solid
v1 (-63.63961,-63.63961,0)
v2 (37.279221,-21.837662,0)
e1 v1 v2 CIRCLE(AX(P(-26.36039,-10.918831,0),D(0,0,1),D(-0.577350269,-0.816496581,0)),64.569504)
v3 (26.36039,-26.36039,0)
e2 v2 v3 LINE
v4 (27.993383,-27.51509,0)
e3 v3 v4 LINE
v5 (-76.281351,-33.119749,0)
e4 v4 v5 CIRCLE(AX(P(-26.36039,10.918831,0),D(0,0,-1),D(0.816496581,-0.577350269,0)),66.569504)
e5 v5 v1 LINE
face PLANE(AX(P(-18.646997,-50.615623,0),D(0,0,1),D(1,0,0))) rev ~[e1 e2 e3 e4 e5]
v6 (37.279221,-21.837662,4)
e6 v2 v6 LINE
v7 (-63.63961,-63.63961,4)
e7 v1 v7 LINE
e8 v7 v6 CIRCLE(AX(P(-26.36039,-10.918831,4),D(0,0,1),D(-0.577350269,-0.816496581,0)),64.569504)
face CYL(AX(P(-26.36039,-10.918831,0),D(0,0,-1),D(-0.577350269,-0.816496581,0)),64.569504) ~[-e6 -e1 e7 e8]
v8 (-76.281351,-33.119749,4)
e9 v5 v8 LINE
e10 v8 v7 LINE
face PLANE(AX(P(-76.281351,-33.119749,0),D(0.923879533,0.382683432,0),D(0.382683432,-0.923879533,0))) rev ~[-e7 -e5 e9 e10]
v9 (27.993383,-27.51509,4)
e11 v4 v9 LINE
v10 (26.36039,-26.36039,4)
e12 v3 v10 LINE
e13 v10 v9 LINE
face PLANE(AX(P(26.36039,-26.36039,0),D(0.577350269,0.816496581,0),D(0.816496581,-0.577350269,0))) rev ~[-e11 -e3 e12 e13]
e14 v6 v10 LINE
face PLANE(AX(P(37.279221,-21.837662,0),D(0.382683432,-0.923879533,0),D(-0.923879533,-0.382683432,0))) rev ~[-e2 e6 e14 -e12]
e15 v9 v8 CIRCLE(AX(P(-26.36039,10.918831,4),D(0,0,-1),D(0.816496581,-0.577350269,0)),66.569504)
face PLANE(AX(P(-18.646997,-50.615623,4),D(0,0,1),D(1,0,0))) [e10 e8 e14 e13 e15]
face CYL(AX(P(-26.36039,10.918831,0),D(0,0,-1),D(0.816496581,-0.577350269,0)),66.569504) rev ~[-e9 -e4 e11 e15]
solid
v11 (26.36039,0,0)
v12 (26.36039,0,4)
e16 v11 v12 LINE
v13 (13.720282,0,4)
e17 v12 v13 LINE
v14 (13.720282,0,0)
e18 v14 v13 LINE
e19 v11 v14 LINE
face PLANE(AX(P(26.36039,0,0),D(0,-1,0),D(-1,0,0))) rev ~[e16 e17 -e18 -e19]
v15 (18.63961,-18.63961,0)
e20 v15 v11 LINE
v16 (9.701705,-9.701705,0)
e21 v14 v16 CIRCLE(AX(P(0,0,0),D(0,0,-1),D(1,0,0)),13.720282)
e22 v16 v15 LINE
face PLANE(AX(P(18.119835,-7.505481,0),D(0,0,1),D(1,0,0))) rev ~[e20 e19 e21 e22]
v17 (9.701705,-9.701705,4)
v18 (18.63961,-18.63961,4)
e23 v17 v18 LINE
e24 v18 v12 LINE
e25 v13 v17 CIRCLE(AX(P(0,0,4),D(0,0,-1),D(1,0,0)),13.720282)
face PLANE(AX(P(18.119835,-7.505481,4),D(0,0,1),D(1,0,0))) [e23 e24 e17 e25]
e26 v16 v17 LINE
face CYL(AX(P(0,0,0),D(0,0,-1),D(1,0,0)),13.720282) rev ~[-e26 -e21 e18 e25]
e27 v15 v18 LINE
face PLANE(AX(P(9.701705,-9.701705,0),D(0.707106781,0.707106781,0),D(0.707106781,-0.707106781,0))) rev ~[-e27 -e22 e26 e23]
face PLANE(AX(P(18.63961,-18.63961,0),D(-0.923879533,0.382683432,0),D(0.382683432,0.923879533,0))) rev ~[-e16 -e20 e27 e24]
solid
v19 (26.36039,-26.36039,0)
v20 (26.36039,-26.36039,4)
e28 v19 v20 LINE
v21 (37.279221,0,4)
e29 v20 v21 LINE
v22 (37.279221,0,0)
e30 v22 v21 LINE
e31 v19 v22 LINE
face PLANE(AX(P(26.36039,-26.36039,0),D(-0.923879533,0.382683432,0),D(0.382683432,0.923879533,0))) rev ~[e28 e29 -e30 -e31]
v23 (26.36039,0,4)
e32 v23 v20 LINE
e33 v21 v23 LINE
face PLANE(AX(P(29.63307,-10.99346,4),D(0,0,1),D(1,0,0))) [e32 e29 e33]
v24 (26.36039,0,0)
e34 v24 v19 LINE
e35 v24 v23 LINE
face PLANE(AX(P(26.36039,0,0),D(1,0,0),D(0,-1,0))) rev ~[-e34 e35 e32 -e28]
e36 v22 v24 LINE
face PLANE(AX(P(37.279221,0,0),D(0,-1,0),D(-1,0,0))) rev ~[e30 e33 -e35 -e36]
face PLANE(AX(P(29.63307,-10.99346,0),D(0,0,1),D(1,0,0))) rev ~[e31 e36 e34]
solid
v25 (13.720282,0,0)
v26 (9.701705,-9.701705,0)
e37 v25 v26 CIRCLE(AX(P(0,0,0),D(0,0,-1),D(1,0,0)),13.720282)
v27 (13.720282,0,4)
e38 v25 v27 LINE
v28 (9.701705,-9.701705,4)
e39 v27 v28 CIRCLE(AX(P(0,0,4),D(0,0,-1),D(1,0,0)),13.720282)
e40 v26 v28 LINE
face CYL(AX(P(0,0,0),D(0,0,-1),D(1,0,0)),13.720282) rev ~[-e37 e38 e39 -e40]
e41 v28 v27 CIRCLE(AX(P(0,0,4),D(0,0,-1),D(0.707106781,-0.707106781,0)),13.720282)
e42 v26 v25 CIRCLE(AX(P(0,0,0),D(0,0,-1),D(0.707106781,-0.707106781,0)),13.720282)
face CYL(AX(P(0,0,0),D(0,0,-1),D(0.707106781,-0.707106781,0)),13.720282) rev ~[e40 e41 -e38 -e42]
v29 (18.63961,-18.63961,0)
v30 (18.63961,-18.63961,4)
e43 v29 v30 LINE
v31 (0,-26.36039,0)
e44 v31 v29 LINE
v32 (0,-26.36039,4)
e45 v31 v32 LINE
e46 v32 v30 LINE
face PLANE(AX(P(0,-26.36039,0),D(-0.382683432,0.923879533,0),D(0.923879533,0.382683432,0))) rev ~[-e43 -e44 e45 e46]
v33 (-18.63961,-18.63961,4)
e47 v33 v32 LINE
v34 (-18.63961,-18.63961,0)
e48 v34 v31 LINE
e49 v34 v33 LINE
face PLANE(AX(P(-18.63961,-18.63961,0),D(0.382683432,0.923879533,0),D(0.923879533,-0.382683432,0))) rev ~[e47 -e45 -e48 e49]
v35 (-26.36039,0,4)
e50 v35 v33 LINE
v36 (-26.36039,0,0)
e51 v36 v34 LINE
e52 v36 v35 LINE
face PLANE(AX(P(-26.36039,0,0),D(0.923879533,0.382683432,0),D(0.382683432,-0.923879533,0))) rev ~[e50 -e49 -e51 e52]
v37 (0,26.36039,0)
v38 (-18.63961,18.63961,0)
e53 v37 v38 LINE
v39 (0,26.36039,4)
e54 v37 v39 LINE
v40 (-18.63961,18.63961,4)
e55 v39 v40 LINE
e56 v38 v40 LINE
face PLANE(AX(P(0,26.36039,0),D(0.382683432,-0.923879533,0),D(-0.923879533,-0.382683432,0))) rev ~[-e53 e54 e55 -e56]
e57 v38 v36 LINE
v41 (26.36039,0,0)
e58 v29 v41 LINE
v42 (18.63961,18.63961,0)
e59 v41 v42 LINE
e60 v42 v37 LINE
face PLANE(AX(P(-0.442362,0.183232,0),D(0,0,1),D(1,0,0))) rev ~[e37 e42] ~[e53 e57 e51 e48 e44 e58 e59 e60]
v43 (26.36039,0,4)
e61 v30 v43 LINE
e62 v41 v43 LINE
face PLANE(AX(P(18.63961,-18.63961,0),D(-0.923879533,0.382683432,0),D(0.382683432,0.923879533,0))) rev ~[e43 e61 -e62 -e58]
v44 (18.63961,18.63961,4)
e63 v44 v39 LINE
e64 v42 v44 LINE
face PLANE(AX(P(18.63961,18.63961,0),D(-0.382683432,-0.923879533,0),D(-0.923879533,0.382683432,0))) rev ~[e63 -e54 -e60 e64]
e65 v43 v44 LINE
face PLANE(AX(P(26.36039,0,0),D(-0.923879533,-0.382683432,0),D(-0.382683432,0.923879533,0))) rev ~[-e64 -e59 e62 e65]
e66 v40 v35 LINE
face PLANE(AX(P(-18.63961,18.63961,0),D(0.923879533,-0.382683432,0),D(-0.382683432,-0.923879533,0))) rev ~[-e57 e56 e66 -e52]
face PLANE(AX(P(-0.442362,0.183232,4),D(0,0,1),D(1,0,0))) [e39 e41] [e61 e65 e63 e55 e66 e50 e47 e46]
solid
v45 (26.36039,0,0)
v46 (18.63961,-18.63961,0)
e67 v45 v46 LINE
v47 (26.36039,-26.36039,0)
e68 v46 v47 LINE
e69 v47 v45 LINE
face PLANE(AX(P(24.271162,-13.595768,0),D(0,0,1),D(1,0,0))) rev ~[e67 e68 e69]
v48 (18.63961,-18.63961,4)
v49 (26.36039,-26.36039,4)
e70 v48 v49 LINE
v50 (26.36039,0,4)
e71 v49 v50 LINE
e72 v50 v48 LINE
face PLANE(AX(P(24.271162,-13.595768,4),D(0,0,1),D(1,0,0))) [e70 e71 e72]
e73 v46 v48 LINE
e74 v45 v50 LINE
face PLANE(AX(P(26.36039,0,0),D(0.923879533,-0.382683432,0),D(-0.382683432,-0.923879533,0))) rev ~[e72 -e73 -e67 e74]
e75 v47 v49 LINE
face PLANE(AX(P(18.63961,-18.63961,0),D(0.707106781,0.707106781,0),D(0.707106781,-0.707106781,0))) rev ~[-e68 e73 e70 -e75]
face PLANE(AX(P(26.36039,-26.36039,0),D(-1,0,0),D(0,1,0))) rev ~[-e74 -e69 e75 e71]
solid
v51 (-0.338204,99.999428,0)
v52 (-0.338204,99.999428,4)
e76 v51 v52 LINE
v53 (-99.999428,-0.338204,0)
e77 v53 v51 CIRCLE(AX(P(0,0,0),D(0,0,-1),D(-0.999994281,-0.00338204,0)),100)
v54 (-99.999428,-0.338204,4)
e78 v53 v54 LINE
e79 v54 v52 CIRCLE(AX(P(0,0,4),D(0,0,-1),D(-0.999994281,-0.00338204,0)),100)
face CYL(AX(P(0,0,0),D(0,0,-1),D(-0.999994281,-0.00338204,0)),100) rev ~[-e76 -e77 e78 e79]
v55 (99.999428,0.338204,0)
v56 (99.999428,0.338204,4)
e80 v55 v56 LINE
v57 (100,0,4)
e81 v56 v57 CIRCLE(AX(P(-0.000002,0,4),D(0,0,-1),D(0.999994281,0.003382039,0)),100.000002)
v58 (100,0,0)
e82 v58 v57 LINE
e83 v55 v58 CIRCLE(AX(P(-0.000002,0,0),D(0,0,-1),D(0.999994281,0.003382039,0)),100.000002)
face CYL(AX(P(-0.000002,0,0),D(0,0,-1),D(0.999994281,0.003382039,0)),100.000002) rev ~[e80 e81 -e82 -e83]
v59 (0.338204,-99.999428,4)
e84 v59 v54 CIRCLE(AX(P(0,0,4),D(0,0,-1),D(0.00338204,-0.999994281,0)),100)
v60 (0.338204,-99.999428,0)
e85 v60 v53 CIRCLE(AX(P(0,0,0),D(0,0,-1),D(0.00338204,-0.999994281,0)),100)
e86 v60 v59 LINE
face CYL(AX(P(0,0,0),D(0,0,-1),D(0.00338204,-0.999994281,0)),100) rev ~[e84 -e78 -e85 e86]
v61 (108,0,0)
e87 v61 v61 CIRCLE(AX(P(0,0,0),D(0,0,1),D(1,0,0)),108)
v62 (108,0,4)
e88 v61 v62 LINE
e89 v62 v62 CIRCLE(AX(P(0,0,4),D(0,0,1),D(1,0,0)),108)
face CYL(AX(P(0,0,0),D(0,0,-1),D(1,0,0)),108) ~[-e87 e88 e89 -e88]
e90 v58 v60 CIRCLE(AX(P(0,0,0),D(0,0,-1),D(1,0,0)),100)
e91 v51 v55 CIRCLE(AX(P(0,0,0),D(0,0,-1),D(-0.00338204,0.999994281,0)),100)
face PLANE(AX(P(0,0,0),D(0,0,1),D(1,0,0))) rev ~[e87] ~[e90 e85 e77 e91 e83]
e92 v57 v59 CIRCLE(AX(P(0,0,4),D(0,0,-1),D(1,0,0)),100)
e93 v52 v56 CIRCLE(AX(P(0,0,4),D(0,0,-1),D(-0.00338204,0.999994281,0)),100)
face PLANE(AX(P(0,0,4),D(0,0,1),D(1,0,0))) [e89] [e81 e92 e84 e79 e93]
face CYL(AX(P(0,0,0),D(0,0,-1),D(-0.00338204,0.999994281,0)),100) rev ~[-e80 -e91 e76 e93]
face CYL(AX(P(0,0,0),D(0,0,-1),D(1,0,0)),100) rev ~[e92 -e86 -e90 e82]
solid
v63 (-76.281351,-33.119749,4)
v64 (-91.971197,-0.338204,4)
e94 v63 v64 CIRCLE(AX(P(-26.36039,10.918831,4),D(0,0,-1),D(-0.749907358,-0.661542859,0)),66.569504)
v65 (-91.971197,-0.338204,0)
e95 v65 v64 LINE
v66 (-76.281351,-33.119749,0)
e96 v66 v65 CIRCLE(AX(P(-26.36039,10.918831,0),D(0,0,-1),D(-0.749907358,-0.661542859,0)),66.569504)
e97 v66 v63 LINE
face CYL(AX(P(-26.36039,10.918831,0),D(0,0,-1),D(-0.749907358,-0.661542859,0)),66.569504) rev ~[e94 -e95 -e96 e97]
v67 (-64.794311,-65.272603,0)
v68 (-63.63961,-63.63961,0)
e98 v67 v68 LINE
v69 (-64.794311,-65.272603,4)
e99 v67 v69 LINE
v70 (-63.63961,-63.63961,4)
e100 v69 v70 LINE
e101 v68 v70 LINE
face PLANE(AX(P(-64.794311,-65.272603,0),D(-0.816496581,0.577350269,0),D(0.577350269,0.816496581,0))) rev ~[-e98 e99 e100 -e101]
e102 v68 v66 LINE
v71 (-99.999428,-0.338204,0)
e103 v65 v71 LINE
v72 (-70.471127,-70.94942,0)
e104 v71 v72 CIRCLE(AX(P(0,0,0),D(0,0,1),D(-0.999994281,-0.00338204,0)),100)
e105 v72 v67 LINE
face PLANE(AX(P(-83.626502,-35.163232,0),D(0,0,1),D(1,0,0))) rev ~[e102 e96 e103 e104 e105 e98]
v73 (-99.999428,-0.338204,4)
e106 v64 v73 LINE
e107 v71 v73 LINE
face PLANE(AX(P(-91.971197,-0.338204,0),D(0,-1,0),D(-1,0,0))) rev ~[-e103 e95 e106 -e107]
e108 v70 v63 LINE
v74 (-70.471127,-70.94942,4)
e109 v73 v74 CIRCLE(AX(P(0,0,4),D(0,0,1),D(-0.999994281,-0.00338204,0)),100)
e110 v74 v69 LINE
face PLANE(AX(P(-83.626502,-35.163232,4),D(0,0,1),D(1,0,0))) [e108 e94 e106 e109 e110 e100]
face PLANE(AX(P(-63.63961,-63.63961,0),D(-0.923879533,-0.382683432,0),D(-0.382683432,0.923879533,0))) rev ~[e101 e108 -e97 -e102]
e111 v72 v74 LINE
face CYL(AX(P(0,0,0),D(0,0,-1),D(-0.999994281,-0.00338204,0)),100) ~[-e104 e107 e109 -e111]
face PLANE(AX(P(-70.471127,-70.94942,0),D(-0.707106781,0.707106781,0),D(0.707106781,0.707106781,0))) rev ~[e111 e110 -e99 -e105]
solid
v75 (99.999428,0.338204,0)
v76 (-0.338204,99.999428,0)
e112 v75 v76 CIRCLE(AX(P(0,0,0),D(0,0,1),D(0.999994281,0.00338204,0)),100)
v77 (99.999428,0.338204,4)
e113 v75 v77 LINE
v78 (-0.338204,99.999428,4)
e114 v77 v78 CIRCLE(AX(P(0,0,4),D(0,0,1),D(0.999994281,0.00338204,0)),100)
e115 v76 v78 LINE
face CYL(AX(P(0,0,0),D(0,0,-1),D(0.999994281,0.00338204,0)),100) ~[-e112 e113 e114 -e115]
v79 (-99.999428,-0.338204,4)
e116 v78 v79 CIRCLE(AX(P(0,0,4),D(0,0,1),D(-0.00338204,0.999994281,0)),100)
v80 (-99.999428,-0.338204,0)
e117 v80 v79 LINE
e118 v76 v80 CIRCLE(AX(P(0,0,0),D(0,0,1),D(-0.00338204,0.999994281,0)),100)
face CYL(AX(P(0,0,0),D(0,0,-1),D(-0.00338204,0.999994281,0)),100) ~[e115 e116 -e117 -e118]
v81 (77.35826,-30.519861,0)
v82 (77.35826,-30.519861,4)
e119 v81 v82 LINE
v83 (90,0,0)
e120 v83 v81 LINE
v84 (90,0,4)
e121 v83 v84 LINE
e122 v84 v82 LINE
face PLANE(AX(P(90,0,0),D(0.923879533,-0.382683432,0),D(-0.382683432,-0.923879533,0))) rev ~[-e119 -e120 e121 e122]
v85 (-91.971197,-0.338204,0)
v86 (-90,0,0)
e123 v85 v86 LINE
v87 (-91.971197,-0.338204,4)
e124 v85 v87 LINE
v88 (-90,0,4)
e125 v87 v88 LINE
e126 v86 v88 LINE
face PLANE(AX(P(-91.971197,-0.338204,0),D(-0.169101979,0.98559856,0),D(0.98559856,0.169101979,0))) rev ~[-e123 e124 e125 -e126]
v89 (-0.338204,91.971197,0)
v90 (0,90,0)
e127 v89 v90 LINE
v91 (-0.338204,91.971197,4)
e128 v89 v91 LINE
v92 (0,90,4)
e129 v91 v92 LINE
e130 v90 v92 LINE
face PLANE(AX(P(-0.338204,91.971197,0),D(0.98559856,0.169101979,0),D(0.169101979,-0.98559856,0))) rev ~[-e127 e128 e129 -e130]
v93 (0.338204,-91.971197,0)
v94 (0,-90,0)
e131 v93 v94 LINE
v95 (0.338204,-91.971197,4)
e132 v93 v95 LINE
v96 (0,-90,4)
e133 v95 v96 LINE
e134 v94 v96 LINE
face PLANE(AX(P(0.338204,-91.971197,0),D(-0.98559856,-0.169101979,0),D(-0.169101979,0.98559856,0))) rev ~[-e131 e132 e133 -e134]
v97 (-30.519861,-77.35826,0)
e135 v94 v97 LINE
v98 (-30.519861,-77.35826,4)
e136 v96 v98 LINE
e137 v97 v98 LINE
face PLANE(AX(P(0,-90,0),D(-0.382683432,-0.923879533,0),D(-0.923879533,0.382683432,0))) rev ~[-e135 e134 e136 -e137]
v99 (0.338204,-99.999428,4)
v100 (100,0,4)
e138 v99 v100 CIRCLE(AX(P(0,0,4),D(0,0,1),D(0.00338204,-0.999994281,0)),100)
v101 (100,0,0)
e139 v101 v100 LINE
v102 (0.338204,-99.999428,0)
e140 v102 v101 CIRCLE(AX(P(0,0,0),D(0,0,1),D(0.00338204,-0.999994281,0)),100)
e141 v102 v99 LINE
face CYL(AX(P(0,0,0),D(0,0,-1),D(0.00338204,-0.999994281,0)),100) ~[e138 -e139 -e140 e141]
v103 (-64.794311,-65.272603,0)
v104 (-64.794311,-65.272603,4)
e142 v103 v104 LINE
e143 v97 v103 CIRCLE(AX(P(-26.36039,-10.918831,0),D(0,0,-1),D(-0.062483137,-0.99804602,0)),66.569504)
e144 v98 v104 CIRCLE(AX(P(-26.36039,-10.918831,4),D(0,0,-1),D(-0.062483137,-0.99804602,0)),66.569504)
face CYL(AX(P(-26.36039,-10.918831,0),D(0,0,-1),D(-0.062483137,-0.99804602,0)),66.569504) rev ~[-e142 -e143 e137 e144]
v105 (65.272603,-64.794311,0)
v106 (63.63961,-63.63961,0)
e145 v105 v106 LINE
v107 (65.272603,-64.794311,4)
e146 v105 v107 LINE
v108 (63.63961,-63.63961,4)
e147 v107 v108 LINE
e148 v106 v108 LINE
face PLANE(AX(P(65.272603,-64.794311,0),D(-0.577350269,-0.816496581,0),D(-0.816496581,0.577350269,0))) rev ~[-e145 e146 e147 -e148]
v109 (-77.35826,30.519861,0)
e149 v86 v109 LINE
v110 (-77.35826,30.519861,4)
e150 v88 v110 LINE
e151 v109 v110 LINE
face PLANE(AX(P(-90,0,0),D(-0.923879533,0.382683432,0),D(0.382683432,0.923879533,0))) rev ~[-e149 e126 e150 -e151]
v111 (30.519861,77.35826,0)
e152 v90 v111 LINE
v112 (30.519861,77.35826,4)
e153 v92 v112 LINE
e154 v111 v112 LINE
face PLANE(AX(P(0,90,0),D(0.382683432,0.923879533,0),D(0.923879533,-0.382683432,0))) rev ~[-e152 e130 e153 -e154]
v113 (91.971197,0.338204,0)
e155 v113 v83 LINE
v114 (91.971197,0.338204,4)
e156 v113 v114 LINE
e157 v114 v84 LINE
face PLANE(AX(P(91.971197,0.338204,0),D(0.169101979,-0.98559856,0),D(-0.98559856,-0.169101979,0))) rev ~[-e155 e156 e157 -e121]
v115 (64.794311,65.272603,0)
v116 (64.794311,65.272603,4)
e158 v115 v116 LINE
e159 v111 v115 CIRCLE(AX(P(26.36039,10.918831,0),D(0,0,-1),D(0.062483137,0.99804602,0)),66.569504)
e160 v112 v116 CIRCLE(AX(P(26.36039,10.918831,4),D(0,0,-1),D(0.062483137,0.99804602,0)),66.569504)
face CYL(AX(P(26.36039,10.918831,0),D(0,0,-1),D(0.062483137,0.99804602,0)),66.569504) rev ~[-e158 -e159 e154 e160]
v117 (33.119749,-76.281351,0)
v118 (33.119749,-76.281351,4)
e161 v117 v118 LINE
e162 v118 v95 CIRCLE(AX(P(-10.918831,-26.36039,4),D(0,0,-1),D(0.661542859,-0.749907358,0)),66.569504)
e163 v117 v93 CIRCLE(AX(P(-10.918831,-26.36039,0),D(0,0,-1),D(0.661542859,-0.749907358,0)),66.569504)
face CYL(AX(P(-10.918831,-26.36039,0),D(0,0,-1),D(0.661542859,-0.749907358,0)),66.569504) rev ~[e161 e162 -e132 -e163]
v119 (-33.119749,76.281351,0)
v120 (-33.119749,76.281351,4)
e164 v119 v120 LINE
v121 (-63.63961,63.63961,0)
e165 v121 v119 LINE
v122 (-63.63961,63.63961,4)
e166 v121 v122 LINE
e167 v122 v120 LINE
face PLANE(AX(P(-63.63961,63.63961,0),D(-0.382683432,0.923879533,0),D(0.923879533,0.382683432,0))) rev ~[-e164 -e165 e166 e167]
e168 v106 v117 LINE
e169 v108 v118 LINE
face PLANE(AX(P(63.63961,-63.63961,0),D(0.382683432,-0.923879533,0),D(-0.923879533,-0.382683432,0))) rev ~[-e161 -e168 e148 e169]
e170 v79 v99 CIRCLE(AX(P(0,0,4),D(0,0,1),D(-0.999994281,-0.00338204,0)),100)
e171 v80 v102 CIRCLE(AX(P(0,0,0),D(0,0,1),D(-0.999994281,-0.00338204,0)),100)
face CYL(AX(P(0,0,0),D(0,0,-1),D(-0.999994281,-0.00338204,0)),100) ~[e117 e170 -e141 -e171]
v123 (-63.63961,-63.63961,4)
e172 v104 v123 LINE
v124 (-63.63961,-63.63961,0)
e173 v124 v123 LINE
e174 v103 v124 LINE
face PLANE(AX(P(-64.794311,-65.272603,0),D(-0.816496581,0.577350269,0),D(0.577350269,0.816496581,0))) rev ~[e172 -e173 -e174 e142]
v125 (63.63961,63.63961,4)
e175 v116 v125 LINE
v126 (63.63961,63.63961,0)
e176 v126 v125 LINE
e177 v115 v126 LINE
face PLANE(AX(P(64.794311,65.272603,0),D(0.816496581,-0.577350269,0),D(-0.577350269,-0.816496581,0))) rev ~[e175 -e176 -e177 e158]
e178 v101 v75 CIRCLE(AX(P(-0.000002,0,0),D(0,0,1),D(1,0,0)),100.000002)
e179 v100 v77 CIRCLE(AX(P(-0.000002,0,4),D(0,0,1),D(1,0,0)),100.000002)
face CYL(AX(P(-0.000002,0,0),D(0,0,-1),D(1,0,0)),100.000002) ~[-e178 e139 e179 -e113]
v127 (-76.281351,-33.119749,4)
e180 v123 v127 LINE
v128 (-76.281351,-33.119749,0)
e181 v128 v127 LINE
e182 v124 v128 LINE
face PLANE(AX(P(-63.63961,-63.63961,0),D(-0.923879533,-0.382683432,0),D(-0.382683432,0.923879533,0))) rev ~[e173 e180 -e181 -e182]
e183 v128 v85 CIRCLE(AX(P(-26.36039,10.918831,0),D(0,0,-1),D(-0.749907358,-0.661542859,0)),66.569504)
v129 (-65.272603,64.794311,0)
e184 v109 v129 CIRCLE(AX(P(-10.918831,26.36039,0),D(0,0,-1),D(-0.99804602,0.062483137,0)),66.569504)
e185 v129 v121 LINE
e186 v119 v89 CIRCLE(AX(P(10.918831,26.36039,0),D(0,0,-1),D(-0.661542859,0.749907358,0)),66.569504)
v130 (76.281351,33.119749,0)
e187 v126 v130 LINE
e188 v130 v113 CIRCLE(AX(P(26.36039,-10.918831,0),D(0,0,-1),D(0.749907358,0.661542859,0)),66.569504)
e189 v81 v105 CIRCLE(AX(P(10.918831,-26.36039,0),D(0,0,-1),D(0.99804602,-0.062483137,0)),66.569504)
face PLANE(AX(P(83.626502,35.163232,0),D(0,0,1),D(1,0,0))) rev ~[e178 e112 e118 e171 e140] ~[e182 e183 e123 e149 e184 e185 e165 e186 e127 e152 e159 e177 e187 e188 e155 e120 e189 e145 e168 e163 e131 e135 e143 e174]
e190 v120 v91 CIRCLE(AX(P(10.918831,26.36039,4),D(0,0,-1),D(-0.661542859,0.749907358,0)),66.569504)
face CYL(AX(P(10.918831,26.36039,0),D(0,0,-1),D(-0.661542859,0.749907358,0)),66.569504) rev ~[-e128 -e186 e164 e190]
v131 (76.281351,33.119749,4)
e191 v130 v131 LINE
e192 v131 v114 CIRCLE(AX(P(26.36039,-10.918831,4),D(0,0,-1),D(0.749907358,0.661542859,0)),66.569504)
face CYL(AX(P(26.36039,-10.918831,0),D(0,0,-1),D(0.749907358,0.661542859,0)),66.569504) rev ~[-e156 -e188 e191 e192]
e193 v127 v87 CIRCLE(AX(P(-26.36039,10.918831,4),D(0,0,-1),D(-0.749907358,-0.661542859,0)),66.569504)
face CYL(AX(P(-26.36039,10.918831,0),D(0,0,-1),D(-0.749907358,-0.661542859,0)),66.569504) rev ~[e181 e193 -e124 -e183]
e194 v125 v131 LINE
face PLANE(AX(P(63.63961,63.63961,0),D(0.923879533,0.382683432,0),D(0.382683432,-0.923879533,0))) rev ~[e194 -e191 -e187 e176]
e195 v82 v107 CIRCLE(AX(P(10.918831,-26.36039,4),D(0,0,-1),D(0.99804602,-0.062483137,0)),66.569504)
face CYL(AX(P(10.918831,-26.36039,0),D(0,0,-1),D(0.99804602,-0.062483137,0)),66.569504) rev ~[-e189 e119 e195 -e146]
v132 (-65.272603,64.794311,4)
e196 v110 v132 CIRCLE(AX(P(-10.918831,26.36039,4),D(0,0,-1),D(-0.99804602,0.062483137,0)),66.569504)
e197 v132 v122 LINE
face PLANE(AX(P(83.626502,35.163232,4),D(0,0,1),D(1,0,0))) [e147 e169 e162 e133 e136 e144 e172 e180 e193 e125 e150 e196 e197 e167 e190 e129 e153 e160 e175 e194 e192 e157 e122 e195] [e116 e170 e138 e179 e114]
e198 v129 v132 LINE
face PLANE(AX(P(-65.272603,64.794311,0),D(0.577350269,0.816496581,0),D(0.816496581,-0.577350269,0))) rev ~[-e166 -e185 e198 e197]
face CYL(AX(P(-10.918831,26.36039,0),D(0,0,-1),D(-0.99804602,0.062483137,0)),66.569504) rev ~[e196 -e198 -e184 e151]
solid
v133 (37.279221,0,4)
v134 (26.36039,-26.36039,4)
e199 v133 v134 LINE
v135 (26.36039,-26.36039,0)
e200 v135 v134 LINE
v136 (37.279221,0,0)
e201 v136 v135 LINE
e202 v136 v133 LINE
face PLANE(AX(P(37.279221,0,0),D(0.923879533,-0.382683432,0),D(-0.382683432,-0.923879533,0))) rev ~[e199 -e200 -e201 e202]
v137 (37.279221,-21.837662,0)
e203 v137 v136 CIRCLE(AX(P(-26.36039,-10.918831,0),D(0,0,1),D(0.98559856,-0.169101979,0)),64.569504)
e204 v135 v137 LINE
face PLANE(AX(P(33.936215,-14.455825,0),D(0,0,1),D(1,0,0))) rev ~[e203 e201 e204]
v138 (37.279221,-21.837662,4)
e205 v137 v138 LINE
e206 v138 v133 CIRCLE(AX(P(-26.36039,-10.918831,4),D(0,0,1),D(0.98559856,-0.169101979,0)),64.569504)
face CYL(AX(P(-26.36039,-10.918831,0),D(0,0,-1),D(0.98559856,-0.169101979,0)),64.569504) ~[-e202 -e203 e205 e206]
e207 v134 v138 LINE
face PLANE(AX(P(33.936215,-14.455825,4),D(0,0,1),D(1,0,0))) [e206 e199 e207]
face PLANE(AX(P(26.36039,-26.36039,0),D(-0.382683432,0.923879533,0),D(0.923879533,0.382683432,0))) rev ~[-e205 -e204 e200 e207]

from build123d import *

# Parameters (mm, degrees)
F2_DEPTH  = 4
F3_DEPTH  = 4
F4_DEPTH  = 4
F5_DEPTH  = 4
F6_DEPTH  = 4
F7_DEPTH  = 4
F8_DEPTH  = 4
F9_DEPTH  = 4
F1_R      = 108
F10_DEPTH = 4


with BuildPart() as f2:
    # F1 (on Top) → F2 (new body)
    with BuildSketch(Plane.XY):
        with BuildLine():
            Line((91.9711971193, 0.3382039575), (99.9994280888, 0.3382039575))
            ThreePointArc((99.9994280888, 0.3382039575), (92.2579998228, 38.5805840897), (70.4711274046, 70.9494200281))
            Line((70.4711274046, 70.9494200281), (64.7943108452, 65.2726034686))
            Line((64.7943108452, 65.2726034686), (63.6396103068, 63.6396103068))
            Line((63.6396103068, 63.6396103068), (76.2813507115, 33.1197491698))
            ThreePointArc((76.2813507115, 33.1197491698), (86.4066619055, 17.8204119149), (91.9711971193, 0.3382039575))
        make_face()
        with BuildLine():
            Line((64.7943108452, 65.2726034686), (70.4711274046, 70.9494200281))
            ThreePointArc((70.4711274046, 70.9494200281), (37.9556646615, 92.5168499253), (-0.3382039575, 99.9994280888))
            Line((-0.3382039575, 99.9994280888), (-0.3382039575, 91.9711971193))
            Line((-0.3382039575, 91.9711971193), (0, 90))
            Line((0, 90), (30.519861137, 77.3582595953))
            ThreePointArc((30.519861137, 77.3582595953), (48.4978024645, 73.6996706817), (64.7943108452, 65.2726034686))
        make_face()
        with BuildLine():
            Line((-0.3382039575, 91.9711971193), (-0.3382039575, 99.9994280888))
            ThreePointArc((-0.3382039575, 99.9994280888), (-38.5805840897, 92.2579998228), (-70.9494200281, 70.4711274046))
            Line((-70.9494200281, 70.4711274046), (-65.2726034686, 64.7943108452))
            Line((-65.2726034686, 64.7943108452), (-63.6396103068, 63.6396103068))
            Line((-63.6396103068, 63.6396103068), (-33.1197491698, 76.2813507115))
            ThreePointArc((-33.1197491698, 76.2813507115), (-17.8204119149, 86.4066619055), (-0.3382039575, 91.9711971193))
        make_face()
        with BuildLine():
            Line((-65.2726034686, 64.7943108452), (-70.9494200281, 70.4711274046))
            ThreePointArc((-70.9494200281, 70.4711274046), (-92.5168499253, 37.9556646615), (-99.9994280888, -0.3382039575))
            Line((-99.9994280888, -0.3382039575), (-91.9711971193, -0.3382039575))
            Line((-91.9711971193, -0.3382039575), (-90, 0))
            Line((-90, 0), (-77.3582595953, 30.519861137))
            ThreePointArc((-77.3582595953, 30.519861137), (-73.6996706817, 48.4978024645), (-65.2726034686, 64.7943108452))
        make_face()
        with BuildLine():
            ThreePointArc((-99.9994280888, -0.3382039575), (-92.2579998228, -38.5805840897), (-70.4711274046, -70.9494200281))
            Line((-70.4711274046, -70.9494200281), (-64.7943108452, -65.2726034686))
            Line((-64.7943108452, -65.2726034686), (-63.6396103068, -63.6396103068))
            Line((-63.6396103068, -63.6396103068), (-76.2813507115, -33.1197491698))
            ThreePointArc((-76.2813507115, -33.1197491698), (-86.4066619055, -17.8204119149), (-91.9711971193, -0.3382039575))
            Line((-91.9711971193, -0.3382039575), (-99.9994280888, -0.3382039575))
        make_face()
        with BuildLine():
            ThreePointArc((-70.4711274046, -70.9494200281), (-37.9556646615, -92.5168499253), (0.3382039575, -99.9994280888))
            Line((0.3382039575, -99.9994280888), (0.3382039575, -91.9711971193))
            Line((0.3382039575, -91.9711971193), (0, -90))
            Line((0, -90), (-30.519861137, -77.3582595953))
            ThreePointArc((-30.519861137, -77.3582595953), (-48.4978024645, -73.6996706817), (-64.7943108452, -65.2726034686))
            Line((-64.7943108452, -65.2726034686), (-70.4711274046, -70.9494200281))
        make_face()
        with BuildLine():
            ThreePointArc((0.3382039575, -99.9994280888), (38.5805840897, -92.2579998228), (70.9494200281, -70.4711274046))
            Line((70.9494200281, -70.4711274046), (65.2726034686, -64.7943108452))
            Line((65.2726034686, -64.7943108452), (63.6396103068, -63.6396103068))
            Line((63.6396103068, -63.6396103068), (33.1197491698, -76.2813507115))
            ThreePointArc((33.1197491698, -76.2813507115), (17.8204119149, -86.4066619055), (0.3382039575, -91.9711971193))
            Line((0.3382039575, -91.9711971193), (0.3382039575, -99.9994280888))
        make_face()
        with BuildLine():
            ThreePointArc((70.9494200281, -70.4711274046), (92.4525337749, -38.1120584408), (100, 0))
            ThreePointArc((100, 0), (99.9998570221, 0.1691022205), (99.9994280888, 0.3382039575))
            Line((99.9994280888, 0.3382039575), (91.9711971193, 0.3382039575))
            Line((91.9711971193, 0.3382039575), (90, 0))
            Line((90, 0), (77.3582595953, -30.519861137))
            ThreePointArc((77.3582595953, -30.519861137), (73.6996706817, -48.4978024645), (65.2726034686, -64.7943108452))
            Line((65.2726034686, -64.7943108452), (70.9494200281, -70.4711274046))
        make_face()
    extrude(amount=F2_DEPTH)


with BuildPart() as f3:
    # F1 (on Top) → F3 (new body)
    with BuildSketch(Plane.XY):
        with BuildLine():
            Line((-76.2813507115, -33.1197491698), (-63.6396103068, -63.6396103068))
            ThreePointArc((-63.6396103068, -63.6396103068), (-1.6507102116, -70.5732742468), (37.2792206136, -21.8376618407))
            Line((37.2792206136, -21.8376618407), (26.3603896932, -26.3603896932))
            Line((26.3603896932, -26.3603896932), (27.9933828551, -27.5150902316))
            ThreePointArc((27.9933828551, -27.5150902316), (-22.7875050087, -55.554723072), (-76.2813507115, -33.1197491698))
        make_face()
    extrude(amount=F3_DEPTH)


with BuildPart() as f4:
    # F1 (on Top) → F4 (new body)
    with BuildSketch(Plane.XY):
        with BuildLine():
            Line((26.3603896932, -26.3603896932), (37.2792206136, -21.8376618407))
            ThreePointArc((37.2792206136, -21.8376618407), (38.2091144761, -10.9188309204), (37.2792206136, 0))
            Line((37.2792206136, 0), (26.3603896932, -26.3603896932))
        make_face()
    extrude(amount=F4_DEPTH)


with BuildPart() as f5:
    # F1 (on Top) → F5 (new body)
    with BuildSketch(Plane.XY):
        Polygon((26.3603896932, -26.3603896932), (37.2792206136, 0), (26.3603896932, 0), align=None)
    extrude(amount=F5_DEPTH)


with BuildPart() as f6:
    # F1 (on Top) → F6 (new body)
    with BuildSketch(Plane.XY):
        Polygon((18.6396103068, -18.6396103068), (26.3603896932, -26.3603896932), (26.3603896932, 0), align=None)
    extrude(amount=F6_DEPTH)


with BuildPart() as f7:
    # F1 (on Top) → F7 (new body)
    with BuildSketch(Plane.XY):
        with BuildLine():
            Line((0, 26.3603896932), (-18.6396103068, 18.6396103068))
            Line((-18.6396103068, 18.6396103068), (-26.3603896932, 0))
            Line((-26.3603896932, 0), (-18.6396103068, -18.6396103068))
            Line((-18.6396103068, -18.6396103068), (0, -26.3603896932))
            Line((0, -26.3603896932), (18.6396103068, -18.6396103068))
            Line((18.6396103068, -18.6396103068), (9.7017045802, -9.7017045802))
            ThreePointArc((9.7017045802, -9.7017045802), (-12.6758879006, 5.2505246836), (13.7202821954, 0))
            Line((13.7202821954, 0), (26.3603896932, 0))
            Line((26.3603896932, 0), (18.6396103068, 18.6396103068))
            Line((18.6396103068, 18.6396103068), (0, 26.3603896932))
        make_face()
        with BuildLine():
            Line((18.6396103068, -18.6396103068), (26.3603896932, 0))
            Line((26.3603896932, 0), (13.7202821954, 0))
            ThreePointArc((13.7202821954, 0), (12.6758879006, -5.2505246836), (9.7017045802, -9.7017045802))
            Line((9.7017045802, -9.7017045802), (18.6396103068, -18.6396103068))
        make_face()
    extrude(amount=F7_DEPTH)


with BuildPart() as f8:
    # F1 (on Top) → F8 (new body)
    with BuildSketch(Plane.XY):
        with BuildLine():
            ThreePointArc((-99.9994280888, -0.3382039575), (-92.2579998228, -38.5805840897), (-70.4711274046, -70.9494200281))
            Line((-70.4711274046, -70.9494200281), (-64.7943108452, -65.2726034686))
            Line((-64.7943108452, -65.2726034686), (-63.6396103068, -63.6396103068))
            Line((-63.6396103068, -63.6396103068), (-76.2813507115, -33.1197491698))
            ThreePointArc((-76.2813507115, -33.1197491698), (-86.4066619055, -17.8204119149), (-91.9711971193, -0.3382039575))
            Line((-91.9711971193, -0.3382039575), (-99.9994280888, -0.3382039575))
        make_face()
    extrude(amount=F8_DEPTH)


with BuildPart() as f9:
    # F1 (on Top) → F9 (new body)
    with BuildSketch(Plane.XY):
        with BuildLine():
            Line((18.6396103068, -18.6396103068), (26.3603896932, 0))
            Line((26.3603896932, 0), (13.7202821954, 0))
            ThreePointArc((13.7202821954, 0), (12.6758879006, -5.2505246836), (9.7017045802, -9.7017045802))
            Line((9.7017045802, -9.7017045802), (18.6396103068, -18.6396103068))
        make_face()
    extrude(amount=F9_DEPTH)


with BuildPart() as f10:
    # F1 (on Top) → F10 (new body)
    with BuildSketch(Plane.XY):
        Circle(F1_R)
        with BuildLine():
            ThreePointArc((99.9994280888, 0.3382039575), (99.9998570221, 0.1691022205), (100, 0))
            ThreePointArc((100, 0), (92.4525337749, -38.1120584408), (70.9494200281, -70.4711274046))
            ThreePointArc((70.9494200281, -70.4711274046), (38.5805840897, -92.2579998228), (0.3382039575, -99.9994280888))
            ThreePointArc((0.3382039575, -99.9994280888), (-37.9556646615, -92.5168499253), (-70.4711274046, -70.9494200281))
            ThreePointArc((-70.4711274046, -70.9494200281), (-92.2579998228, -38.5805840897), (-99.9994280888, -0.3382039575))
            ThreePointArc((-99.9994280888, -0.3382039575), (-92.5168499253, 37.9556646615), (-70.9494200281, 70.4711274046))
            ThreePointArc((-70.9494200281, 70.4711274046), (-38.5805840897, 92.2579998228), (-0.3382039575, 99.9994280888))
            ThreePointArc((-0.3382039575, 99.9994280888), (37.9556646615, 92.5168499253), (70.4711274046, 70.9494200281))
            ThreePointArc((70.4711274046, 70.9494200281), (92.2579998228, 38.5805840897), (99.9994280888, 0.3382039575))
        make_face(mode=Mode.SUBTRACT)
    extrude(amount=F10_DEPTH)


solid = Compound([f2.part, f3.part, f4.part, f5.part, f6.part, f7.part, f8.part, f9.part, f10.part])
